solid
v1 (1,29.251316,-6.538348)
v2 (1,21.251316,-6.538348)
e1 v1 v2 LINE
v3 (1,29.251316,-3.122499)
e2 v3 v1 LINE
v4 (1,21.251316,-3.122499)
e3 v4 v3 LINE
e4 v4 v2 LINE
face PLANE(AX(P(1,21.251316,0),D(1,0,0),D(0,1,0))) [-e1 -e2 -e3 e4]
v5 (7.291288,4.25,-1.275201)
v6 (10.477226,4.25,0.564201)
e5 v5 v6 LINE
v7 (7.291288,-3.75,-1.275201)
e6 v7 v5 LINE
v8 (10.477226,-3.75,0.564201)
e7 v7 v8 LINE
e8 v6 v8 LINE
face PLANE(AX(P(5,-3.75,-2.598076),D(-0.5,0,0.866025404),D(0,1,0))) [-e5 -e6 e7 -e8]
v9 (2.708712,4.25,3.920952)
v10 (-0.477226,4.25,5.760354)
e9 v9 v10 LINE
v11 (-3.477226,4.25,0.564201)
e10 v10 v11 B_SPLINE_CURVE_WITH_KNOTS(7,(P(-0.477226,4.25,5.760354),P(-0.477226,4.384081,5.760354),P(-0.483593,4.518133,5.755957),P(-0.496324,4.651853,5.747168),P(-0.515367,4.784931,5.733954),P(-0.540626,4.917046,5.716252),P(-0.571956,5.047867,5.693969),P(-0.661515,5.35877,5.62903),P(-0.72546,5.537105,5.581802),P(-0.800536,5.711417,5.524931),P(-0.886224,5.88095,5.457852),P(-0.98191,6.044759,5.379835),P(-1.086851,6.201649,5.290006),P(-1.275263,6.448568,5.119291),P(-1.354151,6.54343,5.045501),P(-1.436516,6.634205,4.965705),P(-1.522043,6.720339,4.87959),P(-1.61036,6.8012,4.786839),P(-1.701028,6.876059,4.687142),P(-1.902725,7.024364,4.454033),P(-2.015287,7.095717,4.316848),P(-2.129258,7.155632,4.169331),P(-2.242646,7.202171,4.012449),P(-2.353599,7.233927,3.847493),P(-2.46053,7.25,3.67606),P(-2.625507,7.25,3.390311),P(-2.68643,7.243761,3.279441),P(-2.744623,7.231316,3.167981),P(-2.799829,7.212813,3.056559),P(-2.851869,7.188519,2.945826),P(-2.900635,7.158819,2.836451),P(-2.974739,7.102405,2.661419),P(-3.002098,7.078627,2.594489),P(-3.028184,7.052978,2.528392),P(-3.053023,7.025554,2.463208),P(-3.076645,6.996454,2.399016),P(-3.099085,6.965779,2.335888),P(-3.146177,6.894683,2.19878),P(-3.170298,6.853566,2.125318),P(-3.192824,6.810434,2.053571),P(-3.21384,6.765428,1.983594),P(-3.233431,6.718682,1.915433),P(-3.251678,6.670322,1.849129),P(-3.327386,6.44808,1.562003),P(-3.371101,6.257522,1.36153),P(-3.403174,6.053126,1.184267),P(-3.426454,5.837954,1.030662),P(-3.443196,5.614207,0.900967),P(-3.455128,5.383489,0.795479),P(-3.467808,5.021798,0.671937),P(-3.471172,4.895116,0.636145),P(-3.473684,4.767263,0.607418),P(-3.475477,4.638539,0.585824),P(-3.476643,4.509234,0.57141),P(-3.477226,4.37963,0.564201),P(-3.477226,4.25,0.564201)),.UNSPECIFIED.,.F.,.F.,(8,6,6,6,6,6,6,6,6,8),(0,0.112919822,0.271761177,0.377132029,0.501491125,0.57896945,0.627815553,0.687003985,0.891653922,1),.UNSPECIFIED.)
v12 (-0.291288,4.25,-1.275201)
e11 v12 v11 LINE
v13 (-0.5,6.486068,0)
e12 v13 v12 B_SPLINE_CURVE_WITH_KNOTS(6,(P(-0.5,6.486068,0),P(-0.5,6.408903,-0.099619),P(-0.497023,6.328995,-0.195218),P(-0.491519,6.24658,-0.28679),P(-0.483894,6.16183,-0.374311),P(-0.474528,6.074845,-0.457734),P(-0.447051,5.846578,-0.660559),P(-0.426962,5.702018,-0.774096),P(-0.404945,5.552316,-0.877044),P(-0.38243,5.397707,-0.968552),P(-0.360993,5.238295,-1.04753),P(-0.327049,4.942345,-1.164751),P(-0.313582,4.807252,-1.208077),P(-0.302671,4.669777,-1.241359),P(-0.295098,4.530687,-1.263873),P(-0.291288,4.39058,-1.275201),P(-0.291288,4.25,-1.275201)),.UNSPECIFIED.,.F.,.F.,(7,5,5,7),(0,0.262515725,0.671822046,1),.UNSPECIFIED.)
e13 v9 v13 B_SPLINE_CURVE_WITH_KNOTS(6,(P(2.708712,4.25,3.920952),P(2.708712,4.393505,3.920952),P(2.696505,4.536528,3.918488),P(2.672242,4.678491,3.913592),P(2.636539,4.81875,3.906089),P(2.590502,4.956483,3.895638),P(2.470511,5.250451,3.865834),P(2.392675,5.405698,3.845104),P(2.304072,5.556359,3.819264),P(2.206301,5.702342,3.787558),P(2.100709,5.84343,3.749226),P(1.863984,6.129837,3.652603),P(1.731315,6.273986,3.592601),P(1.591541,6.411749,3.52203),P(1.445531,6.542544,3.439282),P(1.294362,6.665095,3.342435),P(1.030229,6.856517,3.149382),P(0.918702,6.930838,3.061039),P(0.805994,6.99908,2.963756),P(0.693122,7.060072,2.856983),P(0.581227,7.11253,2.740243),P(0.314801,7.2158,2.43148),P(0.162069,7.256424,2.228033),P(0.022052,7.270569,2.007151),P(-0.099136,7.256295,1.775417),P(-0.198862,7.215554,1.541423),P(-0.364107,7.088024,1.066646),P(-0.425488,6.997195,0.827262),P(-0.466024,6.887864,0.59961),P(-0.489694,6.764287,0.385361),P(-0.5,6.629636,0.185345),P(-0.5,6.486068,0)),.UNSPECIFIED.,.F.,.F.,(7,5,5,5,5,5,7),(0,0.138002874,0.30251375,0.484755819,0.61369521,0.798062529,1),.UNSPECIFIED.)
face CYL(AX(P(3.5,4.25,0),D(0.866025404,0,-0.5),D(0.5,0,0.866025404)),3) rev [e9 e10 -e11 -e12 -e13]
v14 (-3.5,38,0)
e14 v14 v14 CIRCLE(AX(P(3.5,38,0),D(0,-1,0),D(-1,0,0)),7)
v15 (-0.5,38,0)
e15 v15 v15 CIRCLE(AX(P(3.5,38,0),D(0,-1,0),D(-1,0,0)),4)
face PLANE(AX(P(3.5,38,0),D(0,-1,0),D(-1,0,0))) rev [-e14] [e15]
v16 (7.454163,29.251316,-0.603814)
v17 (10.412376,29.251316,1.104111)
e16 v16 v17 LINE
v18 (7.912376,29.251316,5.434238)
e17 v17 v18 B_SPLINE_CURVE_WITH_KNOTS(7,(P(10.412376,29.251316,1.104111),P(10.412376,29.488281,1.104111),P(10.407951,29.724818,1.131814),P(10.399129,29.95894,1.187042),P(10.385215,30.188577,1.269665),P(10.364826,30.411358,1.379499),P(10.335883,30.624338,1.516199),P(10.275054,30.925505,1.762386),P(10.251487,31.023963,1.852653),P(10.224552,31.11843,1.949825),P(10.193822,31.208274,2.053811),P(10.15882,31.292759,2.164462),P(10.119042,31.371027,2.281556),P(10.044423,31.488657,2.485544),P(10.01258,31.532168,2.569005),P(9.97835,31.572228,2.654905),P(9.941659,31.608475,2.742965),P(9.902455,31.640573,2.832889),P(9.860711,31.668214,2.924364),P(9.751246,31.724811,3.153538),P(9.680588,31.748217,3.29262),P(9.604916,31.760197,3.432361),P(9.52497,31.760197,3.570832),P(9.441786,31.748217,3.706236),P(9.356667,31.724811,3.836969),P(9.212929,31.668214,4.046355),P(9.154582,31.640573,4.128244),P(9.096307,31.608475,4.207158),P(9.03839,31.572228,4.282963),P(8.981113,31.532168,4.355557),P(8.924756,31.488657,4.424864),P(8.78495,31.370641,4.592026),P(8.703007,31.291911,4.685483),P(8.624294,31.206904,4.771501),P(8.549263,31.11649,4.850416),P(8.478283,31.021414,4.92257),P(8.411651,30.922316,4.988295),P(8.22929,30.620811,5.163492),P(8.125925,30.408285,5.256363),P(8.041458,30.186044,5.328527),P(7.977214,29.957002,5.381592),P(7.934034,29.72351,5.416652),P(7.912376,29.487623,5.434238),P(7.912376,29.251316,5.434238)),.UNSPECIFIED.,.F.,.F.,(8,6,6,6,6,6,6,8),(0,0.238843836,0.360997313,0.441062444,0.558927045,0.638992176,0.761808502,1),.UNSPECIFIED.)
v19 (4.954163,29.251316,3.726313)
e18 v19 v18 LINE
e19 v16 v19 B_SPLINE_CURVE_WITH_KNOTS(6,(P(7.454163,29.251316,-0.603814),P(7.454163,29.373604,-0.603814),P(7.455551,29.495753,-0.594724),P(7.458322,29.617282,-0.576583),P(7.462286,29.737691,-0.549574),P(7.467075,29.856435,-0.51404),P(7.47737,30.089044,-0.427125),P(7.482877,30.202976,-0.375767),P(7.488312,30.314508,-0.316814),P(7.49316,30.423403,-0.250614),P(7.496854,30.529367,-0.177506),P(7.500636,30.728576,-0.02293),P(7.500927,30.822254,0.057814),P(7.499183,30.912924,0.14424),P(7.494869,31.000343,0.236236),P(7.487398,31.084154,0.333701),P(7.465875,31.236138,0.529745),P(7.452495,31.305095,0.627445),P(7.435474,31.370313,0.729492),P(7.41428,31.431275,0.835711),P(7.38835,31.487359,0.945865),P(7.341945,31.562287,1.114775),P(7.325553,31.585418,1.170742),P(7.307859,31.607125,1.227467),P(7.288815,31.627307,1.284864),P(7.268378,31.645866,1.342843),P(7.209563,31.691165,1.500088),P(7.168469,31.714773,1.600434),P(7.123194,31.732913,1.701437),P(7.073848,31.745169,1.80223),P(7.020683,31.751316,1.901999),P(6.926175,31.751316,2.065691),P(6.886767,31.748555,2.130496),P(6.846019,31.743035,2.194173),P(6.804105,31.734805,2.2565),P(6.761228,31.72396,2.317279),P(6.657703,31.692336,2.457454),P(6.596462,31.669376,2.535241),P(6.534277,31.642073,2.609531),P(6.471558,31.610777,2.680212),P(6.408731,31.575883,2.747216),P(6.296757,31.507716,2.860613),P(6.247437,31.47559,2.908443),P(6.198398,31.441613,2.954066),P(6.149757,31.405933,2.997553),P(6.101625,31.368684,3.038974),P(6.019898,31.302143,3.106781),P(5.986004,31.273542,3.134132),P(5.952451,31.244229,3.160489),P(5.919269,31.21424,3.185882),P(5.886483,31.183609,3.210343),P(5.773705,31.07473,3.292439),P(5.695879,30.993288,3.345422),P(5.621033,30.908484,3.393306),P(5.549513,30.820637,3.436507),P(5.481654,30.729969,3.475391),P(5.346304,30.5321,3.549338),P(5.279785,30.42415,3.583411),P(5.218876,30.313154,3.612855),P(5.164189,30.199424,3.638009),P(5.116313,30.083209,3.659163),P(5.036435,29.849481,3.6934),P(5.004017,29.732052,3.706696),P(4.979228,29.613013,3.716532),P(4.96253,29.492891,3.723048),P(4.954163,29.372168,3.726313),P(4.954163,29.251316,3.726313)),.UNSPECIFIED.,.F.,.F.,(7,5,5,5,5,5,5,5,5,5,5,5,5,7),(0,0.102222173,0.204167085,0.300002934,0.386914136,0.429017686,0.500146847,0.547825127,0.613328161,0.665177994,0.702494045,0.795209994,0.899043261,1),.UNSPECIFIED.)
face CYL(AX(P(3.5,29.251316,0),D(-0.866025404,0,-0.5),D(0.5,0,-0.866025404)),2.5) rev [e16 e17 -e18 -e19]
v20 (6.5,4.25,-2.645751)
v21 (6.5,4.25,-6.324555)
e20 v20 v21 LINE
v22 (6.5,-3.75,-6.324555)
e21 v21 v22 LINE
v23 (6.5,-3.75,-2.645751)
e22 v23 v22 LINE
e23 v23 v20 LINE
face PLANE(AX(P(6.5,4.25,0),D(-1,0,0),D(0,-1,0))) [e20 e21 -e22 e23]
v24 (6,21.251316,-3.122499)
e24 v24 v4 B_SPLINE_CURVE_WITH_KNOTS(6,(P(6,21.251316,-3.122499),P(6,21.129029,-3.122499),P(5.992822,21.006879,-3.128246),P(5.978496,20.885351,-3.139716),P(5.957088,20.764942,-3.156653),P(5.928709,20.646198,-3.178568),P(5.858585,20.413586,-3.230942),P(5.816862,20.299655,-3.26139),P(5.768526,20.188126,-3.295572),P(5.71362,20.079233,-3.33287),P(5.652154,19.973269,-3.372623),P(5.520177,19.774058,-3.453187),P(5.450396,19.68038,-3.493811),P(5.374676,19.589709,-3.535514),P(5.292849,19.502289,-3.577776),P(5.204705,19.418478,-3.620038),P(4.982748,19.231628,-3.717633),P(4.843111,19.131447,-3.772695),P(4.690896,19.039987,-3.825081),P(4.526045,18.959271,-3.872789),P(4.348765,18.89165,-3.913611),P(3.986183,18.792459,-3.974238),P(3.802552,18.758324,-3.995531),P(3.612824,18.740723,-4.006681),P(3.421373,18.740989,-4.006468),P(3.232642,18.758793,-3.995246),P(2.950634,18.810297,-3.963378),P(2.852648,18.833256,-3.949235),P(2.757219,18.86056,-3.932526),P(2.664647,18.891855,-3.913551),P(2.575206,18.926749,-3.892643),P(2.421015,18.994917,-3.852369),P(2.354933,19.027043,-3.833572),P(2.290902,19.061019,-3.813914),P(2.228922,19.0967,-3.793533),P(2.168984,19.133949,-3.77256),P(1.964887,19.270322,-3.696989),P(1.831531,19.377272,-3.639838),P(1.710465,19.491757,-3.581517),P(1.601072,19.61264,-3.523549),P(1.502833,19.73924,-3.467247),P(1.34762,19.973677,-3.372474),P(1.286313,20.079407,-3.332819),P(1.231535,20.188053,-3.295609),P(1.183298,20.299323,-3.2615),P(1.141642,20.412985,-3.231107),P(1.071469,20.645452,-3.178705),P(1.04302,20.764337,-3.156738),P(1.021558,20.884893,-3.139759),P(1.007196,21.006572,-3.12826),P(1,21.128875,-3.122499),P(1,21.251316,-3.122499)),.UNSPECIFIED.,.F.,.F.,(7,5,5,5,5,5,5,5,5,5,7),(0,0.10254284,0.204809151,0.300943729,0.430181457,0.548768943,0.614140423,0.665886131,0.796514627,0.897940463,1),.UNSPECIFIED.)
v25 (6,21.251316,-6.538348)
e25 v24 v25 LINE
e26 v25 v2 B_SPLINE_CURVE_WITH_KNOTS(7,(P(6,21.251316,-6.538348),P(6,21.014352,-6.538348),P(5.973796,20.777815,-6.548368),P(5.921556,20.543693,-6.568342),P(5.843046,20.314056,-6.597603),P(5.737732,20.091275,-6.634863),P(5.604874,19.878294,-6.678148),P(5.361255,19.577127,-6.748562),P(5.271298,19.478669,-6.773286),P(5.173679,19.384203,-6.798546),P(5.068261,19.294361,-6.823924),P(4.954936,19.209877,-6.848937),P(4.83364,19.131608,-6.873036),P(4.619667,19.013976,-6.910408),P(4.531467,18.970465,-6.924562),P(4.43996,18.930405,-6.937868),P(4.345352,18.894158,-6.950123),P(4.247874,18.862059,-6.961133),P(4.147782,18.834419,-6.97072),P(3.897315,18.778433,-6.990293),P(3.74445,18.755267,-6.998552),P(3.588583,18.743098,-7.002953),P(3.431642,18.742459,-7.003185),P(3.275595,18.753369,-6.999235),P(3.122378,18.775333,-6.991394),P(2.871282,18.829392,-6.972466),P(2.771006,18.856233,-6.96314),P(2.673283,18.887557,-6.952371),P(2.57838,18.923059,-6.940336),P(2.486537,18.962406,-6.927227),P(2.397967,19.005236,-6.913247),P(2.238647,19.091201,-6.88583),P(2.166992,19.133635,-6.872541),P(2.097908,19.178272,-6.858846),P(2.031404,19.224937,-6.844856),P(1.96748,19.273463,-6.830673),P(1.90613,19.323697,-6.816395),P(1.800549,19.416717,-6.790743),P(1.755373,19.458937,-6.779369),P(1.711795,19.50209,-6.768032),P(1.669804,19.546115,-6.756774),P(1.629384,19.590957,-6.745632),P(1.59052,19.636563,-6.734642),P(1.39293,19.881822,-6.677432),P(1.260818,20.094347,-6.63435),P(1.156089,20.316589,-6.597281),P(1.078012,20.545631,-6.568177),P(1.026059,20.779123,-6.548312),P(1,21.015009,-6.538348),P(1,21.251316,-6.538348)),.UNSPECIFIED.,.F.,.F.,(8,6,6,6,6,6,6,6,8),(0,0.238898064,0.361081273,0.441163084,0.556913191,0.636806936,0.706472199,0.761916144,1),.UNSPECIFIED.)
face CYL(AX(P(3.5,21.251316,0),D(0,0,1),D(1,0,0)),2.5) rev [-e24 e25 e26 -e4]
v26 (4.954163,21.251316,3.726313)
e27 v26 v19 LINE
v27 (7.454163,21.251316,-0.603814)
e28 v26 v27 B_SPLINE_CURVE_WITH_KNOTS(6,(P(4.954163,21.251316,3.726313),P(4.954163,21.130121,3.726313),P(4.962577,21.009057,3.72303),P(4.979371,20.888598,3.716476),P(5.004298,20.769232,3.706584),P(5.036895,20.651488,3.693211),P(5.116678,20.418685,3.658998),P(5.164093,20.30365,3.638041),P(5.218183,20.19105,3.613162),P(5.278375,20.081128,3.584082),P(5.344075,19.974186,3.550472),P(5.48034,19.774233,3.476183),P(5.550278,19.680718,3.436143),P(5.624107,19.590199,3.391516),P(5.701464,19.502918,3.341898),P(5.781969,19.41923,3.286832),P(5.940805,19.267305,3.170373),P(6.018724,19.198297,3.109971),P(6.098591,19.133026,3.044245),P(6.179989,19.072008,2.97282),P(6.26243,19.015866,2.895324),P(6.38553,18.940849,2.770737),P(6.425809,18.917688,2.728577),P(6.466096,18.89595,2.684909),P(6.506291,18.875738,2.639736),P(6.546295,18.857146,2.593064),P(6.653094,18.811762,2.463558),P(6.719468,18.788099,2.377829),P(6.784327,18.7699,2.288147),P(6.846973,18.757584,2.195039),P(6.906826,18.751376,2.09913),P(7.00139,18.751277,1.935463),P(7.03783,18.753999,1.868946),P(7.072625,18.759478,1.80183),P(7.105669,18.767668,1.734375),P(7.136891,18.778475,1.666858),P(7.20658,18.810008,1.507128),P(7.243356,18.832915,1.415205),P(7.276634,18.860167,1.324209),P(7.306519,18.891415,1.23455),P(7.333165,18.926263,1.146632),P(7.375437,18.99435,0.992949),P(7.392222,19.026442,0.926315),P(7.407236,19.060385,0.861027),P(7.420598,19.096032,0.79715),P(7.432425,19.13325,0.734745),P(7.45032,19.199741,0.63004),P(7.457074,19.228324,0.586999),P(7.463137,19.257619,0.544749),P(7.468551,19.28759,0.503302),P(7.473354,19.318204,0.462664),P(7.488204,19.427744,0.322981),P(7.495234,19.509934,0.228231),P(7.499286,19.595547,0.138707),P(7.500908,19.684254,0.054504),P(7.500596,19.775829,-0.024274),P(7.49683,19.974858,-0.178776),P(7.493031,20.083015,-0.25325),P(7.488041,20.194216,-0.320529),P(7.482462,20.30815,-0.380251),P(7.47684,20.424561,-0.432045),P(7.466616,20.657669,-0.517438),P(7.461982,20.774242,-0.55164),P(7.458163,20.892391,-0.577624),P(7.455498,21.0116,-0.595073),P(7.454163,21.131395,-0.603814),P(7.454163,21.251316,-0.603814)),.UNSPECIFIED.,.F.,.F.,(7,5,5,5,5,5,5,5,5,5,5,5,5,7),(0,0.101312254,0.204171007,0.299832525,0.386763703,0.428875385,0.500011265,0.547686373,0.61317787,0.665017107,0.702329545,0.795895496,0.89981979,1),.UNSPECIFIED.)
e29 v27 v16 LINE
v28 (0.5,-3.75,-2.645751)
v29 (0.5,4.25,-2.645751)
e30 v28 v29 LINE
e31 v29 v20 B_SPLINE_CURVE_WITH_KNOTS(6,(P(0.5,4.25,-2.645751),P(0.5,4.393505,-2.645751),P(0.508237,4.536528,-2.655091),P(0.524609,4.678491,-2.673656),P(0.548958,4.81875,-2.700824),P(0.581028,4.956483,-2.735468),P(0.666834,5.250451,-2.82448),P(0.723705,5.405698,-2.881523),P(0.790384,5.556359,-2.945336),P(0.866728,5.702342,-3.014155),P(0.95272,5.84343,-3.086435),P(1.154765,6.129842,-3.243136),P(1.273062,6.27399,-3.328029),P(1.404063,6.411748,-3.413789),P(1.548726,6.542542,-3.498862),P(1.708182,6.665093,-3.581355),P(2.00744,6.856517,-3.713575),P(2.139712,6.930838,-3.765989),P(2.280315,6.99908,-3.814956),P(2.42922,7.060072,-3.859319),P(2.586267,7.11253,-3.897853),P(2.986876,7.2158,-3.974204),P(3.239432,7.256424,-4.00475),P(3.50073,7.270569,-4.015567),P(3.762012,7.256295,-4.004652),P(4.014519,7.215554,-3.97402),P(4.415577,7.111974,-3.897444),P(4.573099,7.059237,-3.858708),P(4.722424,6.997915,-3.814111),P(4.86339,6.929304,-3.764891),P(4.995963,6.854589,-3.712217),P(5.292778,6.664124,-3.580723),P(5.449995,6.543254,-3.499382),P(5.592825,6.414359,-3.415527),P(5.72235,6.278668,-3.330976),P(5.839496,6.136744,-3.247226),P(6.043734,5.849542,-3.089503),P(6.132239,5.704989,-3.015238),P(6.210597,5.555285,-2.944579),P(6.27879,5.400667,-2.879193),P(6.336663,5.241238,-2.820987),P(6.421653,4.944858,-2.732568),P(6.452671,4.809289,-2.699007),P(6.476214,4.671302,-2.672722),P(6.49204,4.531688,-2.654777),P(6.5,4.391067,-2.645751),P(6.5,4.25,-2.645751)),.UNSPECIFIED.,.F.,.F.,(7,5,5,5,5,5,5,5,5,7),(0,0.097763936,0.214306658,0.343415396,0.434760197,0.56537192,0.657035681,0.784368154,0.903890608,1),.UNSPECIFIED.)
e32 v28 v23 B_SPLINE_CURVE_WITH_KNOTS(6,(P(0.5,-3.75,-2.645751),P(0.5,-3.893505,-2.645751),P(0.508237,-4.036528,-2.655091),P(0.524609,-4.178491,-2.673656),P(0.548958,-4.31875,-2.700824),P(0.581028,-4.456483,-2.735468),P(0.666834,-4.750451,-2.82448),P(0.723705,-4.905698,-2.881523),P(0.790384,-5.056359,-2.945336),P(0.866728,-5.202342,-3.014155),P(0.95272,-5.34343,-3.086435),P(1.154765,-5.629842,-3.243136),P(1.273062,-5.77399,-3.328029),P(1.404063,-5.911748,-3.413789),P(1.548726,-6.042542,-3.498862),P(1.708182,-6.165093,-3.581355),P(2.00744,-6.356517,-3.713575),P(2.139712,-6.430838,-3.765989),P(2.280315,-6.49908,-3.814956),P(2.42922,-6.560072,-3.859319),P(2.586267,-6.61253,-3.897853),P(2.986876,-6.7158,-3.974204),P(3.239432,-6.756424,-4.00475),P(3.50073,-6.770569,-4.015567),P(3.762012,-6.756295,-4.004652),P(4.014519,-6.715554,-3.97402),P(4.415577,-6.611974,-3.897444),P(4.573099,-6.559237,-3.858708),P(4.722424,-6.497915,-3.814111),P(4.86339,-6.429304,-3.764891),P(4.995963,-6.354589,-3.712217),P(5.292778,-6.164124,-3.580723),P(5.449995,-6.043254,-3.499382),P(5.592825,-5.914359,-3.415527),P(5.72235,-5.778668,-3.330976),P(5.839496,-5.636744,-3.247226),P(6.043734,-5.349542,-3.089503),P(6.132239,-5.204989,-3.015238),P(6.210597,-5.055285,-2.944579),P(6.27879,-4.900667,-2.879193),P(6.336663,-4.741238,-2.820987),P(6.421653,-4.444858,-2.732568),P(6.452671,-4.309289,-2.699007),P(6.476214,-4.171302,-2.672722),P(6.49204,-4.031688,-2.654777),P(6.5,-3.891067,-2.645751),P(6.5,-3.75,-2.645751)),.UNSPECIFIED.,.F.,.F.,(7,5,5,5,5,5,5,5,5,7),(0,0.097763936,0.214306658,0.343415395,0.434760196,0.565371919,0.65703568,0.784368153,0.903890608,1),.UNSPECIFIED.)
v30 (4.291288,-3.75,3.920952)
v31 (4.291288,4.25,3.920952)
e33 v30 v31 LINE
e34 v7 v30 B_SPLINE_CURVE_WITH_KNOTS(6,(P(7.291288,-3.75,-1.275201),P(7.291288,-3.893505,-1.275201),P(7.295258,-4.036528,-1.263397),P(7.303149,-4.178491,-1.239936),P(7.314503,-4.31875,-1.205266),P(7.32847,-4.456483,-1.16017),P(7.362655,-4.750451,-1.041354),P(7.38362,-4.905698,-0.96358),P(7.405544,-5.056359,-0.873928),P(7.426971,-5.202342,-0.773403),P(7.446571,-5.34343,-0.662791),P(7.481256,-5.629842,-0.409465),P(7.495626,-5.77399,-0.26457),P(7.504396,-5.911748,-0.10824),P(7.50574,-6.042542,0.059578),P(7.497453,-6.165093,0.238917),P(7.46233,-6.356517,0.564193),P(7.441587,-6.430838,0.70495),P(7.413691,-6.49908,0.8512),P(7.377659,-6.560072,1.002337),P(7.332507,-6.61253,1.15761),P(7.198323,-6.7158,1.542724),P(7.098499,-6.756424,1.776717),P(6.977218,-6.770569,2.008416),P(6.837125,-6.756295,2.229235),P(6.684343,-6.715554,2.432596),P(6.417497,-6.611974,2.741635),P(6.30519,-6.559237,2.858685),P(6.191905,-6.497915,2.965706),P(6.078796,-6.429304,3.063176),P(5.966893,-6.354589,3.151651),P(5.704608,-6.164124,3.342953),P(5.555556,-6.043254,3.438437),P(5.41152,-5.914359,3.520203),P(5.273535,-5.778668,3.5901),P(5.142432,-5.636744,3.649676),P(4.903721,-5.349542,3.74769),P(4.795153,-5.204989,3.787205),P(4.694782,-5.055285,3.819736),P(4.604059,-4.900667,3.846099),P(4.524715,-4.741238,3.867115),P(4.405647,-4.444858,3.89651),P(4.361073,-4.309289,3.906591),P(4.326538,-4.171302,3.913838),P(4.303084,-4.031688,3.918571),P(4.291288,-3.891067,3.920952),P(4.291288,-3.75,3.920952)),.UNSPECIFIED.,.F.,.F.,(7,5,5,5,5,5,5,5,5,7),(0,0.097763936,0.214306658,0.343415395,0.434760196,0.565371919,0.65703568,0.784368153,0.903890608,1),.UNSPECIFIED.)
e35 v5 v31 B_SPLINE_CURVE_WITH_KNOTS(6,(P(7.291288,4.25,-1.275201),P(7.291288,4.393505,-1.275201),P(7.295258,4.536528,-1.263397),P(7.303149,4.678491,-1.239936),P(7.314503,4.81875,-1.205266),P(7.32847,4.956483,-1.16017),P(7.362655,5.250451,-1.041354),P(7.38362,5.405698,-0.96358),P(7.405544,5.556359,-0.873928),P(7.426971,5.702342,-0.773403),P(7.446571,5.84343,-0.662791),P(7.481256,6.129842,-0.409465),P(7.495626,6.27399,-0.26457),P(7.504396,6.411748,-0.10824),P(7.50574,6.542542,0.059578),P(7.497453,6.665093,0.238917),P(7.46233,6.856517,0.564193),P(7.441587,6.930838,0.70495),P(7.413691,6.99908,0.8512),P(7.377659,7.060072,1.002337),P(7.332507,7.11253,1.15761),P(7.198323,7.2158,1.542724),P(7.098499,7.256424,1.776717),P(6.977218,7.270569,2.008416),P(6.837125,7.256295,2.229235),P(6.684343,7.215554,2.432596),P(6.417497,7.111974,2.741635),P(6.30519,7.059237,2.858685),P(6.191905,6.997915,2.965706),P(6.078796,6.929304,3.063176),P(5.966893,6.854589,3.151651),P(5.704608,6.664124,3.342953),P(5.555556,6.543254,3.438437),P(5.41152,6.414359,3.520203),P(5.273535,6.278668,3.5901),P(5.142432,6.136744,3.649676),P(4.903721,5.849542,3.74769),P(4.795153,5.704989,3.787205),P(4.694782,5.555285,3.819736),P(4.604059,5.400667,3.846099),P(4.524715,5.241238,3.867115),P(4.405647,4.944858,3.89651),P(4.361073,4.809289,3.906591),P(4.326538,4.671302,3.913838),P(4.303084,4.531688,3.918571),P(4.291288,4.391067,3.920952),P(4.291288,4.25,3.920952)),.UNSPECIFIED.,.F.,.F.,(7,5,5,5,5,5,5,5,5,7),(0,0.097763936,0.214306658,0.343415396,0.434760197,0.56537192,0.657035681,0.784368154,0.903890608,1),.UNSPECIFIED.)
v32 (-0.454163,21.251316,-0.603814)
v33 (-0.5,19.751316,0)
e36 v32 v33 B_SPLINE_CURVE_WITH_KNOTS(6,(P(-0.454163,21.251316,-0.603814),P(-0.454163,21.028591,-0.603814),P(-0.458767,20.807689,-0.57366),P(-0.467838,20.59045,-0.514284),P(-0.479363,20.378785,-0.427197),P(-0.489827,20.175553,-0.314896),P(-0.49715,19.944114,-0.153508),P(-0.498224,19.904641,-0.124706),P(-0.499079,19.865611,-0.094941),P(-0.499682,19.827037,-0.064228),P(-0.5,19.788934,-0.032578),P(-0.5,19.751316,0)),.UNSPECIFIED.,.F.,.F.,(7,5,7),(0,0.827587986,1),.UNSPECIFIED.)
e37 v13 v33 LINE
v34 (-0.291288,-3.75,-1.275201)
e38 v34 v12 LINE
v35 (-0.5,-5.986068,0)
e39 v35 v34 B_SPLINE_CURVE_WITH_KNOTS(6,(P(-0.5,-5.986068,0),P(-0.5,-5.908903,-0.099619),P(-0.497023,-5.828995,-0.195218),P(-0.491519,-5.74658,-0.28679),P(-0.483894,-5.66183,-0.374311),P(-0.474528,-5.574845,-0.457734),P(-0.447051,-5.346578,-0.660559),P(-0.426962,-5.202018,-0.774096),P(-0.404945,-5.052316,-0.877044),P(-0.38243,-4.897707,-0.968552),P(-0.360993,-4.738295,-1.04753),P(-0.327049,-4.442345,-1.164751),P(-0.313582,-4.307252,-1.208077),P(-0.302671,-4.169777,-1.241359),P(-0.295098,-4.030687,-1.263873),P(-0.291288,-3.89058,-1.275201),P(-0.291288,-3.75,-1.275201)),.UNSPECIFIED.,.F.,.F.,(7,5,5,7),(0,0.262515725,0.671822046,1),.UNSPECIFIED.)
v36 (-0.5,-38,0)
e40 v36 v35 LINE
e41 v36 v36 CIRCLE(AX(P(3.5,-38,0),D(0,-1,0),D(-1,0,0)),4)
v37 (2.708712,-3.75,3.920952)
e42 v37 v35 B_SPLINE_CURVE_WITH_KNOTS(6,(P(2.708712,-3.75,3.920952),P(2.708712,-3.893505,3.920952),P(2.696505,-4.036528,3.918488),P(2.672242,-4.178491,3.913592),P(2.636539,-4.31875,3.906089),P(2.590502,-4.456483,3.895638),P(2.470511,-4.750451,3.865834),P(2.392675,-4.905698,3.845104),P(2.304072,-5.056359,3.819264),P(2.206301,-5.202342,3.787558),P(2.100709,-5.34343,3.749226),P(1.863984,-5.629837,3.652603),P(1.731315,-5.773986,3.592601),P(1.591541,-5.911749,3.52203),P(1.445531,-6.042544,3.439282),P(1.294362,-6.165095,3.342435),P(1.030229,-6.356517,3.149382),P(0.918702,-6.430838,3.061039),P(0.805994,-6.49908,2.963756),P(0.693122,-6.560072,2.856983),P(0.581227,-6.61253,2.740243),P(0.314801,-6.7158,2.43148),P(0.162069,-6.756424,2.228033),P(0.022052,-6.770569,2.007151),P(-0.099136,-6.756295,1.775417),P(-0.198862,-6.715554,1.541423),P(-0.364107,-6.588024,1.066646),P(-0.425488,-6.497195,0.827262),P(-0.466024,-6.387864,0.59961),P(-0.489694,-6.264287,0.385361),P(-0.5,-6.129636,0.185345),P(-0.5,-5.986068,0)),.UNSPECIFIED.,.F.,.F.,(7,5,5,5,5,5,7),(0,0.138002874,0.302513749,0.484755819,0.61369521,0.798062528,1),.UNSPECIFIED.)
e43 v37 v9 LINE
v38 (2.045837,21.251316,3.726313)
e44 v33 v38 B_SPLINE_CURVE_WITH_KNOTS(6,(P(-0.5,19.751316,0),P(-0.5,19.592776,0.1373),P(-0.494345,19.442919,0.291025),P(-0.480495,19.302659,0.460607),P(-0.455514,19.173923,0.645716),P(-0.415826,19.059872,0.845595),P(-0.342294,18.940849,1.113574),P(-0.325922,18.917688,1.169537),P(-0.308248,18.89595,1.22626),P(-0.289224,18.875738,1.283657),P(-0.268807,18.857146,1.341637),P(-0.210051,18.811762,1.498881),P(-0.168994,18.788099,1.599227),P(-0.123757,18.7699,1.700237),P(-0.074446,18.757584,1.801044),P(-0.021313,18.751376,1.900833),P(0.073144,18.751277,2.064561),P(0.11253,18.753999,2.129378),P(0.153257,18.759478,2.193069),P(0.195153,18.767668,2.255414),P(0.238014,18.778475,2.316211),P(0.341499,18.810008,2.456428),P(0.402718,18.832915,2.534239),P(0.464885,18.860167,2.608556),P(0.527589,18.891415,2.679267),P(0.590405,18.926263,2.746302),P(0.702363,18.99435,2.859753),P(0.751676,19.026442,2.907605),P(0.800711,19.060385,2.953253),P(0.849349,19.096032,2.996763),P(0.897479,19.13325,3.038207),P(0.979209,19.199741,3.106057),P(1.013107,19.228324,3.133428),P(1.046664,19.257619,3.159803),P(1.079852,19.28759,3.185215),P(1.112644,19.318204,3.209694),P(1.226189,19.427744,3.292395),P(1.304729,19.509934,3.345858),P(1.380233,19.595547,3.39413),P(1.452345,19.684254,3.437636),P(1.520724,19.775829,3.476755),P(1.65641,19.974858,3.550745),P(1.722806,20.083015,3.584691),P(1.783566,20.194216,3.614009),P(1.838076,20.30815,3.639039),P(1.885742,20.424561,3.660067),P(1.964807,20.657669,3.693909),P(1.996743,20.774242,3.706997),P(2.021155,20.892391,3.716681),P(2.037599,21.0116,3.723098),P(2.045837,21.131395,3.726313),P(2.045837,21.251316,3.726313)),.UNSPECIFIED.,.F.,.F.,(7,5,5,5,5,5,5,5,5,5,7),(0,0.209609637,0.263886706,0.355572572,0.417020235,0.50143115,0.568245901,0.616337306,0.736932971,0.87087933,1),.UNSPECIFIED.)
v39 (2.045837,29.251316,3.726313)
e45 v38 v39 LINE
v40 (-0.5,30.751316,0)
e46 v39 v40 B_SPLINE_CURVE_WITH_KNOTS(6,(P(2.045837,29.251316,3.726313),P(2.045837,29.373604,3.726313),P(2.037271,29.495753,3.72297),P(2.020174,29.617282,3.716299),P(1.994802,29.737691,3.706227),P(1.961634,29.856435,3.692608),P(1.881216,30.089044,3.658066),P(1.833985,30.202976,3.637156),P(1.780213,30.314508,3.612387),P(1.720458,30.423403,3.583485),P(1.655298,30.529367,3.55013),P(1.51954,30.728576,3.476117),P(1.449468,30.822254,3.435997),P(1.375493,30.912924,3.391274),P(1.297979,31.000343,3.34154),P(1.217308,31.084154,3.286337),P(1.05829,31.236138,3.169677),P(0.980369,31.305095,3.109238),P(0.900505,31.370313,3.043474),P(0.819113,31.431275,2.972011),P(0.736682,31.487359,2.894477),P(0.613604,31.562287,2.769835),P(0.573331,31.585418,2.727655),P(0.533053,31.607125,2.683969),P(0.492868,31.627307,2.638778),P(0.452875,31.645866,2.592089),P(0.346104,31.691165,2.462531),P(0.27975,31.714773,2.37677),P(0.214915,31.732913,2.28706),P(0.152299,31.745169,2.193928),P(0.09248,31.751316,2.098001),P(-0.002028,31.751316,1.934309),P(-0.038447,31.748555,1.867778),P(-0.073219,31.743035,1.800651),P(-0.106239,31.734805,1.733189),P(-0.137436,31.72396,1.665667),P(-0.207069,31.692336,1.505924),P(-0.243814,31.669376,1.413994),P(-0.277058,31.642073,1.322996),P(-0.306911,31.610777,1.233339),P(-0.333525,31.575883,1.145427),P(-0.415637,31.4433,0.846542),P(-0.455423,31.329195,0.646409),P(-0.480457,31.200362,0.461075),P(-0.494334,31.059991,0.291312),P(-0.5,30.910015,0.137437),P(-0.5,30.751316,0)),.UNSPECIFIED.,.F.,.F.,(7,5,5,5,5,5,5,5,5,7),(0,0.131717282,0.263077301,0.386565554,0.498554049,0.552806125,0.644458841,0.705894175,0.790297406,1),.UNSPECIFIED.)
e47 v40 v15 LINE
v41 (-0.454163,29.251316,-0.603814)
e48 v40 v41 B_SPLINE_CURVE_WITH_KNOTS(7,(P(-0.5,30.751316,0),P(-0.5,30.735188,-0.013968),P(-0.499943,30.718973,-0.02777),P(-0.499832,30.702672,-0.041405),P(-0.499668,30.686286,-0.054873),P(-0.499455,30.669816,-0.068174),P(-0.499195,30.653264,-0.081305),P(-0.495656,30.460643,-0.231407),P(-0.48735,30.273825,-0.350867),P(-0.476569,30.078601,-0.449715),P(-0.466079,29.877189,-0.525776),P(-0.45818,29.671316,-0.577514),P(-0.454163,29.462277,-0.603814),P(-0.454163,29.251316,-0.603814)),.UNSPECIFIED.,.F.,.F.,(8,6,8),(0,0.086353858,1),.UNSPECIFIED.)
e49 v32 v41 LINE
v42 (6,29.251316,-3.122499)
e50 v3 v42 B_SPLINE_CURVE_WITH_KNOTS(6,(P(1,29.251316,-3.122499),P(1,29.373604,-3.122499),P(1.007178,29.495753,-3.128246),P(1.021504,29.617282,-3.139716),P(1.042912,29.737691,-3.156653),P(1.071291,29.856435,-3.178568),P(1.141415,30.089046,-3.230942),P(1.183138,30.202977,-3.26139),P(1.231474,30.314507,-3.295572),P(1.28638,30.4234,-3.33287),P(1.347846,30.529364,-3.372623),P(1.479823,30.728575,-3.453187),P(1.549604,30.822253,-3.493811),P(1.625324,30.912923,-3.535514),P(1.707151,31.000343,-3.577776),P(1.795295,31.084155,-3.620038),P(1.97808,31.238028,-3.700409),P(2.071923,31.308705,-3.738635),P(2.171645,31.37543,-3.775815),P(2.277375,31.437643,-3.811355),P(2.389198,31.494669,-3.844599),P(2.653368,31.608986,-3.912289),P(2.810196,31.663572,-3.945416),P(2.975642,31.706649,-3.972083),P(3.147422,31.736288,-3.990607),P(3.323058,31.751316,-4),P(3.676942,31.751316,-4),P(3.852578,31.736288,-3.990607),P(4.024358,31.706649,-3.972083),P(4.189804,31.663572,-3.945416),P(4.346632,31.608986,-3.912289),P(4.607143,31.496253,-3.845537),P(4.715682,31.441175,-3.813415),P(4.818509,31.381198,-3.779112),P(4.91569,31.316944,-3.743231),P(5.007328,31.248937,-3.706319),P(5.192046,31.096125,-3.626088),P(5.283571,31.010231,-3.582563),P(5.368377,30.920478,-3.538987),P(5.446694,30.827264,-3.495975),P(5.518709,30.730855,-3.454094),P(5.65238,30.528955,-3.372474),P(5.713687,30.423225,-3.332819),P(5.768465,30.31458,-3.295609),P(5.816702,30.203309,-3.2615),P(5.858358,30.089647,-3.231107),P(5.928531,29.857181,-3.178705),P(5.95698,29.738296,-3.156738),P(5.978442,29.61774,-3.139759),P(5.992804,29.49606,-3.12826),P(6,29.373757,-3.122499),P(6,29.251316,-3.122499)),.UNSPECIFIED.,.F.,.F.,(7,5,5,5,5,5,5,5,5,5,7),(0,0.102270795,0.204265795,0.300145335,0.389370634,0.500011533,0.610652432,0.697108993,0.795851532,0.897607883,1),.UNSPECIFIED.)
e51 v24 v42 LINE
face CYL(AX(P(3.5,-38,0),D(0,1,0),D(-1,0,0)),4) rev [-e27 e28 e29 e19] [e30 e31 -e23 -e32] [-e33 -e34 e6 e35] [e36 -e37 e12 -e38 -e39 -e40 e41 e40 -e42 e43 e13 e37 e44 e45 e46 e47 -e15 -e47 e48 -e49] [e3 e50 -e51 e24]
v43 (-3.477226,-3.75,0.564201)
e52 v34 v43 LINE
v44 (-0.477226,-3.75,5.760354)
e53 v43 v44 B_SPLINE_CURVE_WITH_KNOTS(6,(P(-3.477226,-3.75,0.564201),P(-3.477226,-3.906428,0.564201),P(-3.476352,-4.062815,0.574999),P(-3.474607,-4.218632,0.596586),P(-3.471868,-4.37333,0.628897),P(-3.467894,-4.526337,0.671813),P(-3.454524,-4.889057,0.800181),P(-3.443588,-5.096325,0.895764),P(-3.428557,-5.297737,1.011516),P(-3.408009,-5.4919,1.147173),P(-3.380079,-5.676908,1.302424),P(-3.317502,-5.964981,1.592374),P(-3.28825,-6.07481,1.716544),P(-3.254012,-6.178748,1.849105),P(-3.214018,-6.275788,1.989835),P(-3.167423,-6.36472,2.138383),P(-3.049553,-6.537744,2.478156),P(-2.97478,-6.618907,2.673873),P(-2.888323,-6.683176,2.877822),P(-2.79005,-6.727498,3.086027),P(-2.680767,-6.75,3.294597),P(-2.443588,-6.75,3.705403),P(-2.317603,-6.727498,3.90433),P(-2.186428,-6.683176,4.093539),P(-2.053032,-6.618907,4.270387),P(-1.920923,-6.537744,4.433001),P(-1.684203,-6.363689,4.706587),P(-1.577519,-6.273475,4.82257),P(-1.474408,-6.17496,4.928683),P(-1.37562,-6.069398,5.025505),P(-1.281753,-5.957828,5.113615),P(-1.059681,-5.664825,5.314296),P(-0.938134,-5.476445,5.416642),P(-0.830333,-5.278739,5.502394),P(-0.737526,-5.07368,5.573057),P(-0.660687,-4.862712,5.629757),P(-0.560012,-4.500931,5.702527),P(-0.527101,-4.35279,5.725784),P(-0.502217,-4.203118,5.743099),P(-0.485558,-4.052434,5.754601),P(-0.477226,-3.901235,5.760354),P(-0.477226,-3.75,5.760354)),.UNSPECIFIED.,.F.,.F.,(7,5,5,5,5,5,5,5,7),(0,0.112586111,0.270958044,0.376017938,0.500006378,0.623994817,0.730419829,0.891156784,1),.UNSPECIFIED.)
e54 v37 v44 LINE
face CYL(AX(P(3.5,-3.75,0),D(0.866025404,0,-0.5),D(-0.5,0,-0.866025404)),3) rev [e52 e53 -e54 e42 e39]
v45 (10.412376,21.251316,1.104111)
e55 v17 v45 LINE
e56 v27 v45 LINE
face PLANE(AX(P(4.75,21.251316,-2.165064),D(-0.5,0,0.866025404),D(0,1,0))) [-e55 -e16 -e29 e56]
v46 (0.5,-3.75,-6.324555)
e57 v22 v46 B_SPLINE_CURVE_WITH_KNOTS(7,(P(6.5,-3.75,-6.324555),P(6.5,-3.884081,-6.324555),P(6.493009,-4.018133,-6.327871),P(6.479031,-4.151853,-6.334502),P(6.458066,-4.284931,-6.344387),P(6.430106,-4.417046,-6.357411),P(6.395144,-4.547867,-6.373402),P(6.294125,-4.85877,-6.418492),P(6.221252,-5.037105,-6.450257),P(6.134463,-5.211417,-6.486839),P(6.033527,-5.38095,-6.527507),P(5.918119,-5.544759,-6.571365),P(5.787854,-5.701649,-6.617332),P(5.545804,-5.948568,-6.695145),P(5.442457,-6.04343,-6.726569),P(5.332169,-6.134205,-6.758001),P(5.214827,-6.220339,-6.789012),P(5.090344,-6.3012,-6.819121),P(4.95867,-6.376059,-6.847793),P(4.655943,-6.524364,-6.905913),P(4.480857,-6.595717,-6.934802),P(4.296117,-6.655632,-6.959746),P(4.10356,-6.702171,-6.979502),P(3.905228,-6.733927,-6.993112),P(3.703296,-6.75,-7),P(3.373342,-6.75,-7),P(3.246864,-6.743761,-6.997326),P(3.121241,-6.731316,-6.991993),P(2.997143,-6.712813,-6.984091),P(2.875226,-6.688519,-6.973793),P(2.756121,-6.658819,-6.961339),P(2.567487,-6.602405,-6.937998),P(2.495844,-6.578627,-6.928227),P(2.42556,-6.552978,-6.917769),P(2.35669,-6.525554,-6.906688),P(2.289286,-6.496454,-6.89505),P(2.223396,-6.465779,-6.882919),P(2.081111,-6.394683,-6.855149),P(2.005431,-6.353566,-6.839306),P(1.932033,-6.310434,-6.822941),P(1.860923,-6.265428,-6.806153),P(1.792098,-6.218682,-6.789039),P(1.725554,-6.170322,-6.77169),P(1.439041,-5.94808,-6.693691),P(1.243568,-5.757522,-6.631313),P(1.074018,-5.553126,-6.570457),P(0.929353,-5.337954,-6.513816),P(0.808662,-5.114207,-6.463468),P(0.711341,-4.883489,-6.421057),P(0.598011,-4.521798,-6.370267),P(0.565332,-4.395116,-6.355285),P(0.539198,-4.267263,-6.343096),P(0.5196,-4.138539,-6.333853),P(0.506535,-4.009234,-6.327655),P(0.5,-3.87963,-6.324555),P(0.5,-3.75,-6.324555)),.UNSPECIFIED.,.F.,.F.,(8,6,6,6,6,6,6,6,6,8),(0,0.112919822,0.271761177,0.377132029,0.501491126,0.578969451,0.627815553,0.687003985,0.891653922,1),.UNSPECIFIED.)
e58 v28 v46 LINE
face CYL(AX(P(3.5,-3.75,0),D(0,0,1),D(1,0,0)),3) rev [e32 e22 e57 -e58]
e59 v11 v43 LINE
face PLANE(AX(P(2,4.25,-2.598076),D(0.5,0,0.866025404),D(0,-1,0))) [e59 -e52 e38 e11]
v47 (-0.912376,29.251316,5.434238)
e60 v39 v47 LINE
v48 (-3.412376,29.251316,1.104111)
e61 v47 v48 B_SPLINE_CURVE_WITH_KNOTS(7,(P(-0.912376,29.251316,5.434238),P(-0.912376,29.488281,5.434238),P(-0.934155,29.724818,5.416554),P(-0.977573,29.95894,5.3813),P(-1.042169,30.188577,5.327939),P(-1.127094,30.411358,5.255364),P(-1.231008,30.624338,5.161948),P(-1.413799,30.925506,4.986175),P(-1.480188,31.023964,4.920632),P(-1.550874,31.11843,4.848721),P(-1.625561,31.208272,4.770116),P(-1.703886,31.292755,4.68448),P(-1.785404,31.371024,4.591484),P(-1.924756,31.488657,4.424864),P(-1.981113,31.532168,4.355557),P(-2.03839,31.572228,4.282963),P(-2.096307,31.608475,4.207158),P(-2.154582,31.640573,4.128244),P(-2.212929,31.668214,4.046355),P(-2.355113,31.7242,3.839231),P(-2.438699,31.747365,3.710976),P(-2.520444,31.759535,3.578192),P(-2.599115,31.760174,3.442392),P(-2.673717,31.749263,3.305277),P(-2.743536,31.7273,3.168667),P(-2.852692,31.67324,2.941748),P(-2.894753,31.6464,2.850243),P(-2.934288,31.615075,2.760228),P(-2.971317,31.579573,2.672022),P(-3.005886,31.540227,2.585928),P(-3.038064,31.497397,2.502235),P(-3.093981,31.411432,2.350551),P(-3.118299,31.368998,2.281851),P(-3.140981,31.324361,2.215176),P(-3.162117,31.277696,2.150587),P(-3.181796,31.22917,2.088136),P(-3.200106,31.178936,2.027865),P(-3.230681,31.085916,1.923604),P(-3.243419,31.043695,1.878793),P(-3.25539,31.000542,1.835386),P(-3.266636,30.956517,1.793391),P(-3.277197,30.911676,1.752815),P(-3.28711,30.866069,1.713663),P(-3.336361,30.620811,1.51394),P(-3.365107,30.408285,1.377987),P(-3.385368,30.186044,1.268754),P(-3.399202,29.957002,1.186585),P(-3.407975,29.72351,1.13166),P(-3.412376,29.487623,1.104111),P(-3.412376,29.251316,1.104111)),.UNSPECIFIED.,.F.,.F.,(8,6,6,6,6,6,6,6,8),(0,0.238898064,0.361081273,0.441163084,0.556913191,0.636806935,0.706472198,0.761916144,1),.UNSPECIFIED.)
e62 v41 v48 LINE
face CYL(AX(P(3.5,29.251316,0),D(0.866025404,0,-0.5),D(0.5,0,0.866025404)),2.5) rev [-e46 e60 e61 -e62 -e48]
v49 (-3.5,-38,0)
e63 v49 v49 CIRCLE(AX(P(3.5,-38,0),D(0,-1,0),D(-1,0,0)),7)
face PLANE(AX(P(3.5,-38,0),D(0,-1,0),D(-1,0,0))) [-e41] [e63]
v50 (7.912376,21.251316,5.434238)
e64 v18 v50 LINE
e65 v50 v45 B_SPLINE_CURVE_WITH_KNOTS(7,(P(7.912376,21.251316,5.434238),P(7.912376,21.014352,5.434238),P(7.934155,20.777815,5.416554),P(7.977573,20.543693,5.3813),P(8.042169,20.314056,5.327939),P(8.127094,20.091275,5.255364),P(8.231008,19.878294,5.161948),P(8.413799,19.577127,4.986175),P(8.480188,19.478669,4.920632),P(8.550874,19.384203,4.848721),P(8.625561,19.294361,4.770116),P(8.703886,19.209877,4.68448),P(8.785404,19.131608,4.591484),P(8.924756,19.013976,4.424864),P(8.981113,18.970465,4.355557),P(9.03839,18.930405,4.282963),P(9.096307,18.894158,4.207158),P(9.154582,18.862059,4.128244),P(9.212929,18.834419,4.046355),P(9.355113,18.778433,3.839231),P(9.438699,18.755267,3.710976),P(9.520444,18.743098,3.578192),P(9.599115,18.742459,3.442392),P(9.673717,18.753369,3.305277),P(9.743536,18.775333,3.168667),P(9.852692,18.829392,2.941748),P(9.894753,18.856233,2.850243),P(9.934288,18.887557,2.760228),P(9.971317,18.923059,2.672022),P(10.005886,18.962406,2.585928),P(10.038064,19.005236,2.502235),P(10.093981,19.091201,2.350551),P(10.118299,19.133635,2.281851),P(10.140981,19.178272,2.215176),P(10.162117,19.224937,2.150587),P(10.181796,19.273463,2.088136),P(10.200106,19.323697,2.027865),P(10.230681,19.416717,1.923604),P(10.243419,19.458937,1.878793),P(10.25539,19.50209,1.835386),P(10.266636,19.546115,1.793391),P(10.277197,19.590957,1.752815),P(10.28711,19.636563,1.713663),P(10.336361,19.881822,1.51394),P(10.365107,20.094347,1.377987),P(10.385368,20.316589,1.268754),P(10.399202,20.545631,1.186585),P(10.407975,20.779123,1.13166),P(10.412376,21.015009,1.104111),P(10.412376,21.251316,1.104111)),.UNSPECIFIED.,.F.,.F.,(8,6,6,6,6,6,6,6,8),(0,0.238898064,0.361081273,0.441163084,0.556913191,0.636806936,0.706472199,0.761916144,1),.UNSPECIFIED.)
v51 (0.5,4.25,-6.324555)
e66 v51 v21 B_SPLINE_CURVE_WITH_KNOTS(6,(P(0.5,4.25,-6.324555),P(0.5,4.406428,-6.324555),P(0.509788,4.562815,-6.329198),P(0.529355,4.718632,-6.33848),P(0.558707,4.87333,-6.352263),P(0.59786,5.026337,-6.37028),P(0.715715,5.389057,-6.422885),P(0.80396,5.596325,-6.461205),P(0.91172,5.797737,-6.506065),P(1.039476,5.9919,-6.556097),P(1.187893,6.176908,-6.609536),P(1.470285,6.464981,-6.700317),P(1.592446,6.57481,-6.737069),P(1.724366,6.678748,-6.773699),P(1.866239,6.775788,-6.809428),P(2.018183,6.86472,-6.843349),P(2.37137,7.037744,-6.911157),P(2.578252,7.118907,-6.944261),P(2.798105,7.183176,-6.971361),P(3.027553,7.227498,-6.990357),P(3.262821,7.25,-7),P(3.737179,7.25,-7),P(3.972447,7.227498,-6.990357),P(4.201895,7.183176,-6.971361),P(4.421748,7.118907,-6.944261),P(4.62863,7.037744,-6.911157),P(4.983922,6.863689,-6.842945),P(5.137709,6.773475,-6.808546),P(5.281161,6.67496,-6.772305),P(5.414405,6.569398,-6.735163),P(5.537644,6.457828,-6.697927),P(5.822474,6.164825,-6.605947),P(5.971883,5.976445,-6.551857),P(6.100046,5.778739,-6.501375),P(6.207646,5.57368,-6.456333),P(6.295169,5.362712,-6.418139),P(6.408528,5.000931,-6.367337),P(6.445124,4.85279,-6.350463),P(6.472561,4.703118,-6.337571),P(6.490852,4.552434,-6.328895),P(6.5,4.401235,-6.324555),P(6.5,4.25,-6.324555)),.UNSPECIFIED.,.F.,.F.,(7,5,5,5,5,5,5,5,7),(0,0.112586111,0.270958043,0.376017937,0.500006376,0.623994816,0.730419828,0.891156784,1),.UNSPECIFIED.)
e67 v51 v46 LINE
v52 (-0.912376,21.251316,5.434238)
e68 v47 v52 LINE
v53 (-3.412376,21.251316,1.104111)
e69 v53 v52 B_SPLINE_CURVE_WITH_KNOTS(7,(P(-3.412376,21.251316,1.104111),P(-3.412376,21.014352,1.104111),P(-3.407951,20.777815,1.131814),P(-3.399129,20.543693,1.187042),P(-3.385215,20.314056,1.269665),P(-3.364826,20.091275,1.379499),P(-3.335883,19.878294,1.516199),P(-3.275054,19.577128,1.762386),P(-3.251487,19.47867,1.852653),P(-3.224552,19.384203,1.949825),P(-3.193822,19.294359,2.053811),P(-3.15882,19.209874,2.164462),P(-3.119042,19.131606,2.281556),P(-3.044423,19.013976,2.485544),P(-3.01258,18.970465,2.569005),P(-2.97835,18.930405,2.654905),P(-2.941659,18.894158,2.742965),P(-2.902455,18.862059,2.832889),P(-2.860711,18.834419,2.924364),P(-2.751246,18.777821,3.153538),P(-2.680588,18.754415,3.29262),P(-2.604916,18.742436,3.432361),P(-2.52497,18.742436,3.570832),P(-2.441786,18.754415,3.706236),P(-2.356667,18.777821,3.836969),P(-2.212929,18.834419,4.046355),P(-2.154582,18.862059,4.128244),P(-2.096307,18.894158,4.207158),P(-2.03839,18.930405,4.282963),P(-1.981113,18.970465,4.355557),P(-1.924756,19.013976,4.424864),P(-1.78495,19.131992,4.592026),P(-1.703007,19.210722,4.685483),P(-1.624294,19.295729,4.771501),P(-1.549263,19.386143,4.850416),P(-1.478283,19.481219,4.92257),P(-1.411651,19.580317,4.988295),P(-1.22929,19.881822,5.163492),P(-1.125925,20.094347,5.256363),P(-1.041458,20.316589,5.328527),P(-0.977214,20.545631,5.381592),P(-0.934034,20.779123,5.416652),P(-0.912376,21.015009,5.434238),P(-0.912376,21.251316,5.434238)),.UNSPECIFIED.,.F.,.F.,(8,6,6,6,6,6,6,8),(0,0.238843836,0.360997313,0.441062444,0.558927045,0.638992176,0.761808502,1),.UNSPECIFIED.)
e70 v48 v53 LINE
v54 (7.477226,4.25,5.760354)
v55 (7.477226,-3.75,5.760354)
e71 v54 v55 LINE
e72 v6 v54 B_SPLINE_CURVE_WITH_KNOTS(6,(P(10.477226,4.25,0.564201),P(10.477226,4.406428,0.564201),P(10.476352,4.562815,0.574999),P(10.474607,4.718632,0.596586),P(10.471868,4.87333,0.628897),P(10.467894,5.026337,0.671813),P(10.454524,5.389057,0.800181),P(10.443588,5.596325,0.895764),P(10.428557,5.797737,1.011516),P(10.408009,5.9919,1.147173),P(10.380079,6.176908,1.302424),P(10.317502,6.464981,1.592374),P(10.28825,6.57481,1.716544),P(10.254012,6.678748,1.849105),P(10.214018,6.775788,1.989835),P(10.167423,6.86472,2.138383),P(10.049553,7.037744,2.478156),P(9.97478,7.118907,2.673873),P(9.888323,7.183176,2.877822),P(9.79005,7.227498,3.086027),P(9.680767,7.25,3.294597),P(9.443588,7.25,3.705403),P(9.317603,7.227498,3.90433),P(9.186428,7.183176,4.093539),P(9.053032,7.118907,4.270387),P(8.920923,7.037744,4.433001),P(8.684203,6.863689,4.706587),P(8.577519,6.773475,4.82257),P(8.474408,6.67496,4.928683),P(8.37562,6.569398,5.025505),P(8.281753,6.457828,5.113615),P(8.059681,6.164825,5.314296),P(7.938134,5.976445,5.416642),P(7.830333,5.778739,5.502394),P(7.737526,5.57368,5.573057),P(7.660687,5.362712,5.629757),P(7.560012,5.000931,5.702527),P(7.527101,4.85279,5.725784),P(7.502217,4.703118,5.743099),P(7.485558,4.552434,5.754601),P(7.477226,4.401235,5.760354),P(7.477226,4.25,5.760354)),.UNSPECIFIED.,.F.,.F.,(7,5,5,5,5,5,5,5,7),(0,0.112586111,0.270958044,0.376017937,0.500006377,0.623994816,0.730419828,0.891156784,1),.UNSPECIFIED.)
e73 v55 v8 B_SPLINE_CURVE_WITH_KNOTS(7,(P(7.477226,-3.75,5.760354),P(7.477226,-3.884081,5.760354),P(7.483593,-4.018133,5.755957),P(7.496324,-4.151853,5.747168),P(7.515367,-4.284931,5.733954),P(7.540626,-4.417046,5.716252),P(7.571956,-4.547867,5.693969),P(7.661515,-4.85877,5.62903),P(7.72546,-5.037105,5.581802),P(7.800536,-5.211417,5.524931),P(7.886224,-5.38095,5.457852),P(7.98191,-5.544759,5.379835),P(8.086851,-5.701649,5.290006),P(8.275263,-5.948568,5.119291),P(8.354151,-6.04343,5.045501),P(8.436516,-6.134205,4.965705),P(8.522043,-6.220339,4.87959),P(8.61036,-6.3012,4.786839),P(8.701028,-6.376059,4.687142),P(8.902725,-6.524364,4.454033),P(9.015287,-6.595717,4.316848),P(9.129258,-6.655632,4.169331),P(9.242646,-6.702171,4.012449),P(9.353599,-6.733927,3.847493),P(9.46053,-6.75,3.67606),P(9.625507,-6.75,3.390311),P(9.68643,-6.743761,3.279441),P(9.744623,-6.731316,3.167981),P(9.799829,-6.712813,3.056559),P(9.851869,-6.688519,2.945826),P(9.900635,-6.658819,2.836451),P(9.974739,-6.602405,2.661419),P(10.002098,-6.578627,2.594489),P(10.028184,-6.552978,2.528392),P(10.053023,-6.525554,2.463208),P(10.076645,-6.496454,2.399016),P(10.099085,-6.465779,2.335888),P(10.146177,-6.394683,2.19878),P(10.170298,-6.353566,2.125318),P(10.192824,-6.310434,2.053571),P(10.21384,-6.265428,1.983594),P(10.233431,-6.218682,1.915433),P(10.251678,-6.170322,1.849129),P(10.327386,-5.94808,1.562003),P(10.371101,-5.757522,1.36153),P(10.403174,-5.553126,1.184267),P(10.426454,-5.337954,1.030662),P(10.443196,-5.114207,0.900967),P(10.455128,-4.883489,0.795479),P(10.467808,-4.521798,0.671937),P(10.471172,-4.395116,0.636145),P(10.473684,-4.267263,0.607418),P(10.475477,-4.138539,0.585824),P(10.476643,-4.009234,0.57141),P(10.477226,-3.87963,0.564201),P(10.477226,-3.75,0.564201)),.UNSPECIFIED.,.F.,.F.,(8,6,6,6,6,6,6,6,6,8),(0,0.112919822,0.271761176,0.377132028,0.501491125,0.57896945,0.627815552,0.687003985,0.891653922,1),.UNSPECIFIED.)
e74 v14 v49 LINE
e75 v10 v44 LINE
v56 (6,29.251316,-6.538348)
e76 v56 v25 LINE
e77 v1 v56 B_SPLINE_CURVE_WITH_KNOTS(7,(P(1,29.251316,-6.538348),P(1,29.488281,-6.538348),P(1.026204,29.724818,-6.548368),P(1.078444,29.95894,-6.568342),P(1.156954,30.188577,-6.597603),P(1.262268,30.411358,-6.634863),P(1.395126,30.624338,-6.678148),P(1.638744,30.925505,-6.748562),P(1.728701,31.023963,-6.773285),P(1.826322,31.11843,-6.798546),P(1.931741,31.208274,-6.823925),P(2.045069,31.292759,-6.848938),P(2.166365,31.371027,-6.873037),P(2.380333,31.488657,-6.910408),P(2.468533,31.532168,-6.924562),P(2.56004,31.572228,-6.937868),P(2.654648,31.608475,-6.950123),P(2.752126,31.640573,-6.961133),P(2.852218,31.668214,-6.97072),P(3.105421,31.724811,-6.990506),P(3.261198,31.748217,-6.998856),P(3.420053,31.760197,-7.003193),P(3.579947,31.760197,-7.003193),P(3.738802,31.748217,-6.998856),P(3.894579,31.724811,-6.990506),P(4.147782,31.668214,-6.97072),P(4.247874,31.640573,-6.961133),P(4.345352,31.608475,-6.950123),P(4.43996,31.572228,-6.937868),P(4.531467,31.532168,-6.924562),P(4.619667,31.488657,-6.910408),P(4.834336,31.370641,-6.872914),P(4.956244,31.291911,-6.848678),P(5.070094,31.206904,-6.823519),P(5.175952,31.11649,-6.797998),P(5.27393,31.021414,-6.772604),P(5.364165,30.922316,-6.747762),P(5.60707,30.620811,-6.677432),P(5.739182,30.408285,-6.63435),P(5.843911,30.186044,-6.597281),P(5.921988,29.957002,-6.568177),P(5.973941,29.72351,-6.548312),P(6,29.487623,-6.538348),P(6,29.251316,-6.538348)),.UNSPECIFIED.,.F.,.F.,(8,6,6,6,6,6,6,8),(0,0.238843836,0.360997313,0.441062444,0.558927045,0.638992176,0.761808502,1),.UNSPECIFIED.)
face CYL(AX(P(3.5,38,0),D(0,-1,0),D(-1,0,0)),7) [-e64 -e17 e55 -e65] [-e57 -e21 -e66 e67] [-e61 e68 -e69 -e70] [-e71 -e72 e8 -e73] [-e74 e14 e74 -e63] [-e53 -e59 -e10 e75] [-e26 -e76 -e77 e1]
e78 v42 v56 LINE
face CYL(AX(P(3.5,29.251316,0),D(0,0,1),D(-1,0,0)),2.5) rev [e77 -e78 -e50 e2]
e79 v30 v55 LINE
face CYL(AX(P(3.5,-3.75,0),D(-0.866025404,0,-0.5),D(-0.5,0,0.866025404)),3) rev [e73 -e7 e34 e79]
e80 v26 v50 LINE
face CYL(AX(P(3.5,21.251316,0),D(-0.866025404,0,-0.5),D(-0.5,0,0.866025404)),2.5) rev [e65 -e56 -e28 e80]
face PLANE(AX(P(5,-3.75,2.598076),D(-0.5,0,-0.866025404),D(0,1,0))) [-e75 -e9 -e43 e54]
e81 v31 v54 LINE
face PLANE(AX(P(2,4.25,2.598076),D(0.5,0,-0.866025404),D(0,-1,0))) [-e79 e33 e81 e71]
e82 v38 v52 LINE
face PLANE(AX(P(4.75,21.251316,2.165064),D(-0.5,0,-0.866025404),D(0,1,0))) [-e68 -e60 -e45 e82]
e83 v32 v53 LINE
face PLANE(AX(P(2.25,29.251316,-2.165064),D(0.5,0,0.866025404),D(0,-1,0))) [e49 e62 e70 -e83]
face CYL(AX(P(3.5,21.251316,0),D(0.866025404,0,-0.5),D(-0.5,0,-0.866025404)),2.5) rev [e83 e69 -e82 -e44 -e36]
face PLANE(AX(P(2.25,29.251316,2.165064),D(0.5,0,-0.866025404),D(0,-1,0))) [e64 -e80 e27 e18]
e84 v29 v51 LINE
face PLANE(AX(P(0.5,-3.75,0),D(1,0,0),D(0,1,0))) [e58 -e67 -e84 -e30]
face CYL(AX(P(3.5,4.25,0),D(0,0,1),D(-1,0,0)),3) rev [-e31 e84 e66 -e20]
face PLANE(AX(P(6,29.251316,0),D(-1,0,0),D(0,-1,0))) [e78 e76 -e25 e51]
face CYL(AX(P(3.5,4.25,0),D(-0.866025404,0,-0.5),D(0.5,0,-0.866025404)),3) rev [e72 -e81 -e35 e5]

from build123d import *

# Parameters (mm, degrees)
CUT_EXTRUDE1_DEPTH = 10
CIRPATTERN1_COUNT  = 3


with BuildPart() as part:
    # Sketch1 → Revolve1 (revolve)
    with BuildSketch(Plane.XY):
        Polygon((-0.5, -38), (-0.5, 38), (-3.5, 38), (-3.5, -23.32914466), (-3.5, -38), align=None)
    revolve(axis=Axis((3.5, 38, 0), (0, -1, 0)))

    # Sketch3 → Cut-Extrude1 (cut)
    with BuildSketch(Plane.XY):
        with BuildLine():
            Line((1, 21.251316376), (1, 29.251316376))
            ThreePointArc((1, 29.251316376), (3.5, 31.751316376), (6, 29.251316376))
            Line((6, 29.251316376), (6, 21.251316376))
            ThreePointArc((6, 21.251316376), (3.5, 18.751316376), (1, 21.251316376))
        make_face()
        with BuildLine():
            Line((6.5, 4.25), (6.5, -3.75))
            ThreePointArc((6.5, -3.75), (3.5, -6.75), (0.5, -3.75))
            Line((0.5, -3.75), (0.5, 4.25))
            ThreePointArc((0.5, 4.25), (3.5, 7.25), (6.5, 4.25))
        make_face()
    cut_extrude1 = extrude(amount=-CUT_EXTRUDE1_DEPTH, mode=Mode.SUBTRACT)

    # CirPattern1: Cut-Extrude1 ×3 about axis
    cirpattern1_axis = Axis((3.5, 0, 0), (0, 1, 0))
    for i in range(1, CIRPATTERN1_COUNT):
        add(cut_extrude1.rotate(cirpattern1_axis, i * 360 / CIRPATTERN1_COUNT), mode=Mode.SUBTRACT)


solid = part.part
